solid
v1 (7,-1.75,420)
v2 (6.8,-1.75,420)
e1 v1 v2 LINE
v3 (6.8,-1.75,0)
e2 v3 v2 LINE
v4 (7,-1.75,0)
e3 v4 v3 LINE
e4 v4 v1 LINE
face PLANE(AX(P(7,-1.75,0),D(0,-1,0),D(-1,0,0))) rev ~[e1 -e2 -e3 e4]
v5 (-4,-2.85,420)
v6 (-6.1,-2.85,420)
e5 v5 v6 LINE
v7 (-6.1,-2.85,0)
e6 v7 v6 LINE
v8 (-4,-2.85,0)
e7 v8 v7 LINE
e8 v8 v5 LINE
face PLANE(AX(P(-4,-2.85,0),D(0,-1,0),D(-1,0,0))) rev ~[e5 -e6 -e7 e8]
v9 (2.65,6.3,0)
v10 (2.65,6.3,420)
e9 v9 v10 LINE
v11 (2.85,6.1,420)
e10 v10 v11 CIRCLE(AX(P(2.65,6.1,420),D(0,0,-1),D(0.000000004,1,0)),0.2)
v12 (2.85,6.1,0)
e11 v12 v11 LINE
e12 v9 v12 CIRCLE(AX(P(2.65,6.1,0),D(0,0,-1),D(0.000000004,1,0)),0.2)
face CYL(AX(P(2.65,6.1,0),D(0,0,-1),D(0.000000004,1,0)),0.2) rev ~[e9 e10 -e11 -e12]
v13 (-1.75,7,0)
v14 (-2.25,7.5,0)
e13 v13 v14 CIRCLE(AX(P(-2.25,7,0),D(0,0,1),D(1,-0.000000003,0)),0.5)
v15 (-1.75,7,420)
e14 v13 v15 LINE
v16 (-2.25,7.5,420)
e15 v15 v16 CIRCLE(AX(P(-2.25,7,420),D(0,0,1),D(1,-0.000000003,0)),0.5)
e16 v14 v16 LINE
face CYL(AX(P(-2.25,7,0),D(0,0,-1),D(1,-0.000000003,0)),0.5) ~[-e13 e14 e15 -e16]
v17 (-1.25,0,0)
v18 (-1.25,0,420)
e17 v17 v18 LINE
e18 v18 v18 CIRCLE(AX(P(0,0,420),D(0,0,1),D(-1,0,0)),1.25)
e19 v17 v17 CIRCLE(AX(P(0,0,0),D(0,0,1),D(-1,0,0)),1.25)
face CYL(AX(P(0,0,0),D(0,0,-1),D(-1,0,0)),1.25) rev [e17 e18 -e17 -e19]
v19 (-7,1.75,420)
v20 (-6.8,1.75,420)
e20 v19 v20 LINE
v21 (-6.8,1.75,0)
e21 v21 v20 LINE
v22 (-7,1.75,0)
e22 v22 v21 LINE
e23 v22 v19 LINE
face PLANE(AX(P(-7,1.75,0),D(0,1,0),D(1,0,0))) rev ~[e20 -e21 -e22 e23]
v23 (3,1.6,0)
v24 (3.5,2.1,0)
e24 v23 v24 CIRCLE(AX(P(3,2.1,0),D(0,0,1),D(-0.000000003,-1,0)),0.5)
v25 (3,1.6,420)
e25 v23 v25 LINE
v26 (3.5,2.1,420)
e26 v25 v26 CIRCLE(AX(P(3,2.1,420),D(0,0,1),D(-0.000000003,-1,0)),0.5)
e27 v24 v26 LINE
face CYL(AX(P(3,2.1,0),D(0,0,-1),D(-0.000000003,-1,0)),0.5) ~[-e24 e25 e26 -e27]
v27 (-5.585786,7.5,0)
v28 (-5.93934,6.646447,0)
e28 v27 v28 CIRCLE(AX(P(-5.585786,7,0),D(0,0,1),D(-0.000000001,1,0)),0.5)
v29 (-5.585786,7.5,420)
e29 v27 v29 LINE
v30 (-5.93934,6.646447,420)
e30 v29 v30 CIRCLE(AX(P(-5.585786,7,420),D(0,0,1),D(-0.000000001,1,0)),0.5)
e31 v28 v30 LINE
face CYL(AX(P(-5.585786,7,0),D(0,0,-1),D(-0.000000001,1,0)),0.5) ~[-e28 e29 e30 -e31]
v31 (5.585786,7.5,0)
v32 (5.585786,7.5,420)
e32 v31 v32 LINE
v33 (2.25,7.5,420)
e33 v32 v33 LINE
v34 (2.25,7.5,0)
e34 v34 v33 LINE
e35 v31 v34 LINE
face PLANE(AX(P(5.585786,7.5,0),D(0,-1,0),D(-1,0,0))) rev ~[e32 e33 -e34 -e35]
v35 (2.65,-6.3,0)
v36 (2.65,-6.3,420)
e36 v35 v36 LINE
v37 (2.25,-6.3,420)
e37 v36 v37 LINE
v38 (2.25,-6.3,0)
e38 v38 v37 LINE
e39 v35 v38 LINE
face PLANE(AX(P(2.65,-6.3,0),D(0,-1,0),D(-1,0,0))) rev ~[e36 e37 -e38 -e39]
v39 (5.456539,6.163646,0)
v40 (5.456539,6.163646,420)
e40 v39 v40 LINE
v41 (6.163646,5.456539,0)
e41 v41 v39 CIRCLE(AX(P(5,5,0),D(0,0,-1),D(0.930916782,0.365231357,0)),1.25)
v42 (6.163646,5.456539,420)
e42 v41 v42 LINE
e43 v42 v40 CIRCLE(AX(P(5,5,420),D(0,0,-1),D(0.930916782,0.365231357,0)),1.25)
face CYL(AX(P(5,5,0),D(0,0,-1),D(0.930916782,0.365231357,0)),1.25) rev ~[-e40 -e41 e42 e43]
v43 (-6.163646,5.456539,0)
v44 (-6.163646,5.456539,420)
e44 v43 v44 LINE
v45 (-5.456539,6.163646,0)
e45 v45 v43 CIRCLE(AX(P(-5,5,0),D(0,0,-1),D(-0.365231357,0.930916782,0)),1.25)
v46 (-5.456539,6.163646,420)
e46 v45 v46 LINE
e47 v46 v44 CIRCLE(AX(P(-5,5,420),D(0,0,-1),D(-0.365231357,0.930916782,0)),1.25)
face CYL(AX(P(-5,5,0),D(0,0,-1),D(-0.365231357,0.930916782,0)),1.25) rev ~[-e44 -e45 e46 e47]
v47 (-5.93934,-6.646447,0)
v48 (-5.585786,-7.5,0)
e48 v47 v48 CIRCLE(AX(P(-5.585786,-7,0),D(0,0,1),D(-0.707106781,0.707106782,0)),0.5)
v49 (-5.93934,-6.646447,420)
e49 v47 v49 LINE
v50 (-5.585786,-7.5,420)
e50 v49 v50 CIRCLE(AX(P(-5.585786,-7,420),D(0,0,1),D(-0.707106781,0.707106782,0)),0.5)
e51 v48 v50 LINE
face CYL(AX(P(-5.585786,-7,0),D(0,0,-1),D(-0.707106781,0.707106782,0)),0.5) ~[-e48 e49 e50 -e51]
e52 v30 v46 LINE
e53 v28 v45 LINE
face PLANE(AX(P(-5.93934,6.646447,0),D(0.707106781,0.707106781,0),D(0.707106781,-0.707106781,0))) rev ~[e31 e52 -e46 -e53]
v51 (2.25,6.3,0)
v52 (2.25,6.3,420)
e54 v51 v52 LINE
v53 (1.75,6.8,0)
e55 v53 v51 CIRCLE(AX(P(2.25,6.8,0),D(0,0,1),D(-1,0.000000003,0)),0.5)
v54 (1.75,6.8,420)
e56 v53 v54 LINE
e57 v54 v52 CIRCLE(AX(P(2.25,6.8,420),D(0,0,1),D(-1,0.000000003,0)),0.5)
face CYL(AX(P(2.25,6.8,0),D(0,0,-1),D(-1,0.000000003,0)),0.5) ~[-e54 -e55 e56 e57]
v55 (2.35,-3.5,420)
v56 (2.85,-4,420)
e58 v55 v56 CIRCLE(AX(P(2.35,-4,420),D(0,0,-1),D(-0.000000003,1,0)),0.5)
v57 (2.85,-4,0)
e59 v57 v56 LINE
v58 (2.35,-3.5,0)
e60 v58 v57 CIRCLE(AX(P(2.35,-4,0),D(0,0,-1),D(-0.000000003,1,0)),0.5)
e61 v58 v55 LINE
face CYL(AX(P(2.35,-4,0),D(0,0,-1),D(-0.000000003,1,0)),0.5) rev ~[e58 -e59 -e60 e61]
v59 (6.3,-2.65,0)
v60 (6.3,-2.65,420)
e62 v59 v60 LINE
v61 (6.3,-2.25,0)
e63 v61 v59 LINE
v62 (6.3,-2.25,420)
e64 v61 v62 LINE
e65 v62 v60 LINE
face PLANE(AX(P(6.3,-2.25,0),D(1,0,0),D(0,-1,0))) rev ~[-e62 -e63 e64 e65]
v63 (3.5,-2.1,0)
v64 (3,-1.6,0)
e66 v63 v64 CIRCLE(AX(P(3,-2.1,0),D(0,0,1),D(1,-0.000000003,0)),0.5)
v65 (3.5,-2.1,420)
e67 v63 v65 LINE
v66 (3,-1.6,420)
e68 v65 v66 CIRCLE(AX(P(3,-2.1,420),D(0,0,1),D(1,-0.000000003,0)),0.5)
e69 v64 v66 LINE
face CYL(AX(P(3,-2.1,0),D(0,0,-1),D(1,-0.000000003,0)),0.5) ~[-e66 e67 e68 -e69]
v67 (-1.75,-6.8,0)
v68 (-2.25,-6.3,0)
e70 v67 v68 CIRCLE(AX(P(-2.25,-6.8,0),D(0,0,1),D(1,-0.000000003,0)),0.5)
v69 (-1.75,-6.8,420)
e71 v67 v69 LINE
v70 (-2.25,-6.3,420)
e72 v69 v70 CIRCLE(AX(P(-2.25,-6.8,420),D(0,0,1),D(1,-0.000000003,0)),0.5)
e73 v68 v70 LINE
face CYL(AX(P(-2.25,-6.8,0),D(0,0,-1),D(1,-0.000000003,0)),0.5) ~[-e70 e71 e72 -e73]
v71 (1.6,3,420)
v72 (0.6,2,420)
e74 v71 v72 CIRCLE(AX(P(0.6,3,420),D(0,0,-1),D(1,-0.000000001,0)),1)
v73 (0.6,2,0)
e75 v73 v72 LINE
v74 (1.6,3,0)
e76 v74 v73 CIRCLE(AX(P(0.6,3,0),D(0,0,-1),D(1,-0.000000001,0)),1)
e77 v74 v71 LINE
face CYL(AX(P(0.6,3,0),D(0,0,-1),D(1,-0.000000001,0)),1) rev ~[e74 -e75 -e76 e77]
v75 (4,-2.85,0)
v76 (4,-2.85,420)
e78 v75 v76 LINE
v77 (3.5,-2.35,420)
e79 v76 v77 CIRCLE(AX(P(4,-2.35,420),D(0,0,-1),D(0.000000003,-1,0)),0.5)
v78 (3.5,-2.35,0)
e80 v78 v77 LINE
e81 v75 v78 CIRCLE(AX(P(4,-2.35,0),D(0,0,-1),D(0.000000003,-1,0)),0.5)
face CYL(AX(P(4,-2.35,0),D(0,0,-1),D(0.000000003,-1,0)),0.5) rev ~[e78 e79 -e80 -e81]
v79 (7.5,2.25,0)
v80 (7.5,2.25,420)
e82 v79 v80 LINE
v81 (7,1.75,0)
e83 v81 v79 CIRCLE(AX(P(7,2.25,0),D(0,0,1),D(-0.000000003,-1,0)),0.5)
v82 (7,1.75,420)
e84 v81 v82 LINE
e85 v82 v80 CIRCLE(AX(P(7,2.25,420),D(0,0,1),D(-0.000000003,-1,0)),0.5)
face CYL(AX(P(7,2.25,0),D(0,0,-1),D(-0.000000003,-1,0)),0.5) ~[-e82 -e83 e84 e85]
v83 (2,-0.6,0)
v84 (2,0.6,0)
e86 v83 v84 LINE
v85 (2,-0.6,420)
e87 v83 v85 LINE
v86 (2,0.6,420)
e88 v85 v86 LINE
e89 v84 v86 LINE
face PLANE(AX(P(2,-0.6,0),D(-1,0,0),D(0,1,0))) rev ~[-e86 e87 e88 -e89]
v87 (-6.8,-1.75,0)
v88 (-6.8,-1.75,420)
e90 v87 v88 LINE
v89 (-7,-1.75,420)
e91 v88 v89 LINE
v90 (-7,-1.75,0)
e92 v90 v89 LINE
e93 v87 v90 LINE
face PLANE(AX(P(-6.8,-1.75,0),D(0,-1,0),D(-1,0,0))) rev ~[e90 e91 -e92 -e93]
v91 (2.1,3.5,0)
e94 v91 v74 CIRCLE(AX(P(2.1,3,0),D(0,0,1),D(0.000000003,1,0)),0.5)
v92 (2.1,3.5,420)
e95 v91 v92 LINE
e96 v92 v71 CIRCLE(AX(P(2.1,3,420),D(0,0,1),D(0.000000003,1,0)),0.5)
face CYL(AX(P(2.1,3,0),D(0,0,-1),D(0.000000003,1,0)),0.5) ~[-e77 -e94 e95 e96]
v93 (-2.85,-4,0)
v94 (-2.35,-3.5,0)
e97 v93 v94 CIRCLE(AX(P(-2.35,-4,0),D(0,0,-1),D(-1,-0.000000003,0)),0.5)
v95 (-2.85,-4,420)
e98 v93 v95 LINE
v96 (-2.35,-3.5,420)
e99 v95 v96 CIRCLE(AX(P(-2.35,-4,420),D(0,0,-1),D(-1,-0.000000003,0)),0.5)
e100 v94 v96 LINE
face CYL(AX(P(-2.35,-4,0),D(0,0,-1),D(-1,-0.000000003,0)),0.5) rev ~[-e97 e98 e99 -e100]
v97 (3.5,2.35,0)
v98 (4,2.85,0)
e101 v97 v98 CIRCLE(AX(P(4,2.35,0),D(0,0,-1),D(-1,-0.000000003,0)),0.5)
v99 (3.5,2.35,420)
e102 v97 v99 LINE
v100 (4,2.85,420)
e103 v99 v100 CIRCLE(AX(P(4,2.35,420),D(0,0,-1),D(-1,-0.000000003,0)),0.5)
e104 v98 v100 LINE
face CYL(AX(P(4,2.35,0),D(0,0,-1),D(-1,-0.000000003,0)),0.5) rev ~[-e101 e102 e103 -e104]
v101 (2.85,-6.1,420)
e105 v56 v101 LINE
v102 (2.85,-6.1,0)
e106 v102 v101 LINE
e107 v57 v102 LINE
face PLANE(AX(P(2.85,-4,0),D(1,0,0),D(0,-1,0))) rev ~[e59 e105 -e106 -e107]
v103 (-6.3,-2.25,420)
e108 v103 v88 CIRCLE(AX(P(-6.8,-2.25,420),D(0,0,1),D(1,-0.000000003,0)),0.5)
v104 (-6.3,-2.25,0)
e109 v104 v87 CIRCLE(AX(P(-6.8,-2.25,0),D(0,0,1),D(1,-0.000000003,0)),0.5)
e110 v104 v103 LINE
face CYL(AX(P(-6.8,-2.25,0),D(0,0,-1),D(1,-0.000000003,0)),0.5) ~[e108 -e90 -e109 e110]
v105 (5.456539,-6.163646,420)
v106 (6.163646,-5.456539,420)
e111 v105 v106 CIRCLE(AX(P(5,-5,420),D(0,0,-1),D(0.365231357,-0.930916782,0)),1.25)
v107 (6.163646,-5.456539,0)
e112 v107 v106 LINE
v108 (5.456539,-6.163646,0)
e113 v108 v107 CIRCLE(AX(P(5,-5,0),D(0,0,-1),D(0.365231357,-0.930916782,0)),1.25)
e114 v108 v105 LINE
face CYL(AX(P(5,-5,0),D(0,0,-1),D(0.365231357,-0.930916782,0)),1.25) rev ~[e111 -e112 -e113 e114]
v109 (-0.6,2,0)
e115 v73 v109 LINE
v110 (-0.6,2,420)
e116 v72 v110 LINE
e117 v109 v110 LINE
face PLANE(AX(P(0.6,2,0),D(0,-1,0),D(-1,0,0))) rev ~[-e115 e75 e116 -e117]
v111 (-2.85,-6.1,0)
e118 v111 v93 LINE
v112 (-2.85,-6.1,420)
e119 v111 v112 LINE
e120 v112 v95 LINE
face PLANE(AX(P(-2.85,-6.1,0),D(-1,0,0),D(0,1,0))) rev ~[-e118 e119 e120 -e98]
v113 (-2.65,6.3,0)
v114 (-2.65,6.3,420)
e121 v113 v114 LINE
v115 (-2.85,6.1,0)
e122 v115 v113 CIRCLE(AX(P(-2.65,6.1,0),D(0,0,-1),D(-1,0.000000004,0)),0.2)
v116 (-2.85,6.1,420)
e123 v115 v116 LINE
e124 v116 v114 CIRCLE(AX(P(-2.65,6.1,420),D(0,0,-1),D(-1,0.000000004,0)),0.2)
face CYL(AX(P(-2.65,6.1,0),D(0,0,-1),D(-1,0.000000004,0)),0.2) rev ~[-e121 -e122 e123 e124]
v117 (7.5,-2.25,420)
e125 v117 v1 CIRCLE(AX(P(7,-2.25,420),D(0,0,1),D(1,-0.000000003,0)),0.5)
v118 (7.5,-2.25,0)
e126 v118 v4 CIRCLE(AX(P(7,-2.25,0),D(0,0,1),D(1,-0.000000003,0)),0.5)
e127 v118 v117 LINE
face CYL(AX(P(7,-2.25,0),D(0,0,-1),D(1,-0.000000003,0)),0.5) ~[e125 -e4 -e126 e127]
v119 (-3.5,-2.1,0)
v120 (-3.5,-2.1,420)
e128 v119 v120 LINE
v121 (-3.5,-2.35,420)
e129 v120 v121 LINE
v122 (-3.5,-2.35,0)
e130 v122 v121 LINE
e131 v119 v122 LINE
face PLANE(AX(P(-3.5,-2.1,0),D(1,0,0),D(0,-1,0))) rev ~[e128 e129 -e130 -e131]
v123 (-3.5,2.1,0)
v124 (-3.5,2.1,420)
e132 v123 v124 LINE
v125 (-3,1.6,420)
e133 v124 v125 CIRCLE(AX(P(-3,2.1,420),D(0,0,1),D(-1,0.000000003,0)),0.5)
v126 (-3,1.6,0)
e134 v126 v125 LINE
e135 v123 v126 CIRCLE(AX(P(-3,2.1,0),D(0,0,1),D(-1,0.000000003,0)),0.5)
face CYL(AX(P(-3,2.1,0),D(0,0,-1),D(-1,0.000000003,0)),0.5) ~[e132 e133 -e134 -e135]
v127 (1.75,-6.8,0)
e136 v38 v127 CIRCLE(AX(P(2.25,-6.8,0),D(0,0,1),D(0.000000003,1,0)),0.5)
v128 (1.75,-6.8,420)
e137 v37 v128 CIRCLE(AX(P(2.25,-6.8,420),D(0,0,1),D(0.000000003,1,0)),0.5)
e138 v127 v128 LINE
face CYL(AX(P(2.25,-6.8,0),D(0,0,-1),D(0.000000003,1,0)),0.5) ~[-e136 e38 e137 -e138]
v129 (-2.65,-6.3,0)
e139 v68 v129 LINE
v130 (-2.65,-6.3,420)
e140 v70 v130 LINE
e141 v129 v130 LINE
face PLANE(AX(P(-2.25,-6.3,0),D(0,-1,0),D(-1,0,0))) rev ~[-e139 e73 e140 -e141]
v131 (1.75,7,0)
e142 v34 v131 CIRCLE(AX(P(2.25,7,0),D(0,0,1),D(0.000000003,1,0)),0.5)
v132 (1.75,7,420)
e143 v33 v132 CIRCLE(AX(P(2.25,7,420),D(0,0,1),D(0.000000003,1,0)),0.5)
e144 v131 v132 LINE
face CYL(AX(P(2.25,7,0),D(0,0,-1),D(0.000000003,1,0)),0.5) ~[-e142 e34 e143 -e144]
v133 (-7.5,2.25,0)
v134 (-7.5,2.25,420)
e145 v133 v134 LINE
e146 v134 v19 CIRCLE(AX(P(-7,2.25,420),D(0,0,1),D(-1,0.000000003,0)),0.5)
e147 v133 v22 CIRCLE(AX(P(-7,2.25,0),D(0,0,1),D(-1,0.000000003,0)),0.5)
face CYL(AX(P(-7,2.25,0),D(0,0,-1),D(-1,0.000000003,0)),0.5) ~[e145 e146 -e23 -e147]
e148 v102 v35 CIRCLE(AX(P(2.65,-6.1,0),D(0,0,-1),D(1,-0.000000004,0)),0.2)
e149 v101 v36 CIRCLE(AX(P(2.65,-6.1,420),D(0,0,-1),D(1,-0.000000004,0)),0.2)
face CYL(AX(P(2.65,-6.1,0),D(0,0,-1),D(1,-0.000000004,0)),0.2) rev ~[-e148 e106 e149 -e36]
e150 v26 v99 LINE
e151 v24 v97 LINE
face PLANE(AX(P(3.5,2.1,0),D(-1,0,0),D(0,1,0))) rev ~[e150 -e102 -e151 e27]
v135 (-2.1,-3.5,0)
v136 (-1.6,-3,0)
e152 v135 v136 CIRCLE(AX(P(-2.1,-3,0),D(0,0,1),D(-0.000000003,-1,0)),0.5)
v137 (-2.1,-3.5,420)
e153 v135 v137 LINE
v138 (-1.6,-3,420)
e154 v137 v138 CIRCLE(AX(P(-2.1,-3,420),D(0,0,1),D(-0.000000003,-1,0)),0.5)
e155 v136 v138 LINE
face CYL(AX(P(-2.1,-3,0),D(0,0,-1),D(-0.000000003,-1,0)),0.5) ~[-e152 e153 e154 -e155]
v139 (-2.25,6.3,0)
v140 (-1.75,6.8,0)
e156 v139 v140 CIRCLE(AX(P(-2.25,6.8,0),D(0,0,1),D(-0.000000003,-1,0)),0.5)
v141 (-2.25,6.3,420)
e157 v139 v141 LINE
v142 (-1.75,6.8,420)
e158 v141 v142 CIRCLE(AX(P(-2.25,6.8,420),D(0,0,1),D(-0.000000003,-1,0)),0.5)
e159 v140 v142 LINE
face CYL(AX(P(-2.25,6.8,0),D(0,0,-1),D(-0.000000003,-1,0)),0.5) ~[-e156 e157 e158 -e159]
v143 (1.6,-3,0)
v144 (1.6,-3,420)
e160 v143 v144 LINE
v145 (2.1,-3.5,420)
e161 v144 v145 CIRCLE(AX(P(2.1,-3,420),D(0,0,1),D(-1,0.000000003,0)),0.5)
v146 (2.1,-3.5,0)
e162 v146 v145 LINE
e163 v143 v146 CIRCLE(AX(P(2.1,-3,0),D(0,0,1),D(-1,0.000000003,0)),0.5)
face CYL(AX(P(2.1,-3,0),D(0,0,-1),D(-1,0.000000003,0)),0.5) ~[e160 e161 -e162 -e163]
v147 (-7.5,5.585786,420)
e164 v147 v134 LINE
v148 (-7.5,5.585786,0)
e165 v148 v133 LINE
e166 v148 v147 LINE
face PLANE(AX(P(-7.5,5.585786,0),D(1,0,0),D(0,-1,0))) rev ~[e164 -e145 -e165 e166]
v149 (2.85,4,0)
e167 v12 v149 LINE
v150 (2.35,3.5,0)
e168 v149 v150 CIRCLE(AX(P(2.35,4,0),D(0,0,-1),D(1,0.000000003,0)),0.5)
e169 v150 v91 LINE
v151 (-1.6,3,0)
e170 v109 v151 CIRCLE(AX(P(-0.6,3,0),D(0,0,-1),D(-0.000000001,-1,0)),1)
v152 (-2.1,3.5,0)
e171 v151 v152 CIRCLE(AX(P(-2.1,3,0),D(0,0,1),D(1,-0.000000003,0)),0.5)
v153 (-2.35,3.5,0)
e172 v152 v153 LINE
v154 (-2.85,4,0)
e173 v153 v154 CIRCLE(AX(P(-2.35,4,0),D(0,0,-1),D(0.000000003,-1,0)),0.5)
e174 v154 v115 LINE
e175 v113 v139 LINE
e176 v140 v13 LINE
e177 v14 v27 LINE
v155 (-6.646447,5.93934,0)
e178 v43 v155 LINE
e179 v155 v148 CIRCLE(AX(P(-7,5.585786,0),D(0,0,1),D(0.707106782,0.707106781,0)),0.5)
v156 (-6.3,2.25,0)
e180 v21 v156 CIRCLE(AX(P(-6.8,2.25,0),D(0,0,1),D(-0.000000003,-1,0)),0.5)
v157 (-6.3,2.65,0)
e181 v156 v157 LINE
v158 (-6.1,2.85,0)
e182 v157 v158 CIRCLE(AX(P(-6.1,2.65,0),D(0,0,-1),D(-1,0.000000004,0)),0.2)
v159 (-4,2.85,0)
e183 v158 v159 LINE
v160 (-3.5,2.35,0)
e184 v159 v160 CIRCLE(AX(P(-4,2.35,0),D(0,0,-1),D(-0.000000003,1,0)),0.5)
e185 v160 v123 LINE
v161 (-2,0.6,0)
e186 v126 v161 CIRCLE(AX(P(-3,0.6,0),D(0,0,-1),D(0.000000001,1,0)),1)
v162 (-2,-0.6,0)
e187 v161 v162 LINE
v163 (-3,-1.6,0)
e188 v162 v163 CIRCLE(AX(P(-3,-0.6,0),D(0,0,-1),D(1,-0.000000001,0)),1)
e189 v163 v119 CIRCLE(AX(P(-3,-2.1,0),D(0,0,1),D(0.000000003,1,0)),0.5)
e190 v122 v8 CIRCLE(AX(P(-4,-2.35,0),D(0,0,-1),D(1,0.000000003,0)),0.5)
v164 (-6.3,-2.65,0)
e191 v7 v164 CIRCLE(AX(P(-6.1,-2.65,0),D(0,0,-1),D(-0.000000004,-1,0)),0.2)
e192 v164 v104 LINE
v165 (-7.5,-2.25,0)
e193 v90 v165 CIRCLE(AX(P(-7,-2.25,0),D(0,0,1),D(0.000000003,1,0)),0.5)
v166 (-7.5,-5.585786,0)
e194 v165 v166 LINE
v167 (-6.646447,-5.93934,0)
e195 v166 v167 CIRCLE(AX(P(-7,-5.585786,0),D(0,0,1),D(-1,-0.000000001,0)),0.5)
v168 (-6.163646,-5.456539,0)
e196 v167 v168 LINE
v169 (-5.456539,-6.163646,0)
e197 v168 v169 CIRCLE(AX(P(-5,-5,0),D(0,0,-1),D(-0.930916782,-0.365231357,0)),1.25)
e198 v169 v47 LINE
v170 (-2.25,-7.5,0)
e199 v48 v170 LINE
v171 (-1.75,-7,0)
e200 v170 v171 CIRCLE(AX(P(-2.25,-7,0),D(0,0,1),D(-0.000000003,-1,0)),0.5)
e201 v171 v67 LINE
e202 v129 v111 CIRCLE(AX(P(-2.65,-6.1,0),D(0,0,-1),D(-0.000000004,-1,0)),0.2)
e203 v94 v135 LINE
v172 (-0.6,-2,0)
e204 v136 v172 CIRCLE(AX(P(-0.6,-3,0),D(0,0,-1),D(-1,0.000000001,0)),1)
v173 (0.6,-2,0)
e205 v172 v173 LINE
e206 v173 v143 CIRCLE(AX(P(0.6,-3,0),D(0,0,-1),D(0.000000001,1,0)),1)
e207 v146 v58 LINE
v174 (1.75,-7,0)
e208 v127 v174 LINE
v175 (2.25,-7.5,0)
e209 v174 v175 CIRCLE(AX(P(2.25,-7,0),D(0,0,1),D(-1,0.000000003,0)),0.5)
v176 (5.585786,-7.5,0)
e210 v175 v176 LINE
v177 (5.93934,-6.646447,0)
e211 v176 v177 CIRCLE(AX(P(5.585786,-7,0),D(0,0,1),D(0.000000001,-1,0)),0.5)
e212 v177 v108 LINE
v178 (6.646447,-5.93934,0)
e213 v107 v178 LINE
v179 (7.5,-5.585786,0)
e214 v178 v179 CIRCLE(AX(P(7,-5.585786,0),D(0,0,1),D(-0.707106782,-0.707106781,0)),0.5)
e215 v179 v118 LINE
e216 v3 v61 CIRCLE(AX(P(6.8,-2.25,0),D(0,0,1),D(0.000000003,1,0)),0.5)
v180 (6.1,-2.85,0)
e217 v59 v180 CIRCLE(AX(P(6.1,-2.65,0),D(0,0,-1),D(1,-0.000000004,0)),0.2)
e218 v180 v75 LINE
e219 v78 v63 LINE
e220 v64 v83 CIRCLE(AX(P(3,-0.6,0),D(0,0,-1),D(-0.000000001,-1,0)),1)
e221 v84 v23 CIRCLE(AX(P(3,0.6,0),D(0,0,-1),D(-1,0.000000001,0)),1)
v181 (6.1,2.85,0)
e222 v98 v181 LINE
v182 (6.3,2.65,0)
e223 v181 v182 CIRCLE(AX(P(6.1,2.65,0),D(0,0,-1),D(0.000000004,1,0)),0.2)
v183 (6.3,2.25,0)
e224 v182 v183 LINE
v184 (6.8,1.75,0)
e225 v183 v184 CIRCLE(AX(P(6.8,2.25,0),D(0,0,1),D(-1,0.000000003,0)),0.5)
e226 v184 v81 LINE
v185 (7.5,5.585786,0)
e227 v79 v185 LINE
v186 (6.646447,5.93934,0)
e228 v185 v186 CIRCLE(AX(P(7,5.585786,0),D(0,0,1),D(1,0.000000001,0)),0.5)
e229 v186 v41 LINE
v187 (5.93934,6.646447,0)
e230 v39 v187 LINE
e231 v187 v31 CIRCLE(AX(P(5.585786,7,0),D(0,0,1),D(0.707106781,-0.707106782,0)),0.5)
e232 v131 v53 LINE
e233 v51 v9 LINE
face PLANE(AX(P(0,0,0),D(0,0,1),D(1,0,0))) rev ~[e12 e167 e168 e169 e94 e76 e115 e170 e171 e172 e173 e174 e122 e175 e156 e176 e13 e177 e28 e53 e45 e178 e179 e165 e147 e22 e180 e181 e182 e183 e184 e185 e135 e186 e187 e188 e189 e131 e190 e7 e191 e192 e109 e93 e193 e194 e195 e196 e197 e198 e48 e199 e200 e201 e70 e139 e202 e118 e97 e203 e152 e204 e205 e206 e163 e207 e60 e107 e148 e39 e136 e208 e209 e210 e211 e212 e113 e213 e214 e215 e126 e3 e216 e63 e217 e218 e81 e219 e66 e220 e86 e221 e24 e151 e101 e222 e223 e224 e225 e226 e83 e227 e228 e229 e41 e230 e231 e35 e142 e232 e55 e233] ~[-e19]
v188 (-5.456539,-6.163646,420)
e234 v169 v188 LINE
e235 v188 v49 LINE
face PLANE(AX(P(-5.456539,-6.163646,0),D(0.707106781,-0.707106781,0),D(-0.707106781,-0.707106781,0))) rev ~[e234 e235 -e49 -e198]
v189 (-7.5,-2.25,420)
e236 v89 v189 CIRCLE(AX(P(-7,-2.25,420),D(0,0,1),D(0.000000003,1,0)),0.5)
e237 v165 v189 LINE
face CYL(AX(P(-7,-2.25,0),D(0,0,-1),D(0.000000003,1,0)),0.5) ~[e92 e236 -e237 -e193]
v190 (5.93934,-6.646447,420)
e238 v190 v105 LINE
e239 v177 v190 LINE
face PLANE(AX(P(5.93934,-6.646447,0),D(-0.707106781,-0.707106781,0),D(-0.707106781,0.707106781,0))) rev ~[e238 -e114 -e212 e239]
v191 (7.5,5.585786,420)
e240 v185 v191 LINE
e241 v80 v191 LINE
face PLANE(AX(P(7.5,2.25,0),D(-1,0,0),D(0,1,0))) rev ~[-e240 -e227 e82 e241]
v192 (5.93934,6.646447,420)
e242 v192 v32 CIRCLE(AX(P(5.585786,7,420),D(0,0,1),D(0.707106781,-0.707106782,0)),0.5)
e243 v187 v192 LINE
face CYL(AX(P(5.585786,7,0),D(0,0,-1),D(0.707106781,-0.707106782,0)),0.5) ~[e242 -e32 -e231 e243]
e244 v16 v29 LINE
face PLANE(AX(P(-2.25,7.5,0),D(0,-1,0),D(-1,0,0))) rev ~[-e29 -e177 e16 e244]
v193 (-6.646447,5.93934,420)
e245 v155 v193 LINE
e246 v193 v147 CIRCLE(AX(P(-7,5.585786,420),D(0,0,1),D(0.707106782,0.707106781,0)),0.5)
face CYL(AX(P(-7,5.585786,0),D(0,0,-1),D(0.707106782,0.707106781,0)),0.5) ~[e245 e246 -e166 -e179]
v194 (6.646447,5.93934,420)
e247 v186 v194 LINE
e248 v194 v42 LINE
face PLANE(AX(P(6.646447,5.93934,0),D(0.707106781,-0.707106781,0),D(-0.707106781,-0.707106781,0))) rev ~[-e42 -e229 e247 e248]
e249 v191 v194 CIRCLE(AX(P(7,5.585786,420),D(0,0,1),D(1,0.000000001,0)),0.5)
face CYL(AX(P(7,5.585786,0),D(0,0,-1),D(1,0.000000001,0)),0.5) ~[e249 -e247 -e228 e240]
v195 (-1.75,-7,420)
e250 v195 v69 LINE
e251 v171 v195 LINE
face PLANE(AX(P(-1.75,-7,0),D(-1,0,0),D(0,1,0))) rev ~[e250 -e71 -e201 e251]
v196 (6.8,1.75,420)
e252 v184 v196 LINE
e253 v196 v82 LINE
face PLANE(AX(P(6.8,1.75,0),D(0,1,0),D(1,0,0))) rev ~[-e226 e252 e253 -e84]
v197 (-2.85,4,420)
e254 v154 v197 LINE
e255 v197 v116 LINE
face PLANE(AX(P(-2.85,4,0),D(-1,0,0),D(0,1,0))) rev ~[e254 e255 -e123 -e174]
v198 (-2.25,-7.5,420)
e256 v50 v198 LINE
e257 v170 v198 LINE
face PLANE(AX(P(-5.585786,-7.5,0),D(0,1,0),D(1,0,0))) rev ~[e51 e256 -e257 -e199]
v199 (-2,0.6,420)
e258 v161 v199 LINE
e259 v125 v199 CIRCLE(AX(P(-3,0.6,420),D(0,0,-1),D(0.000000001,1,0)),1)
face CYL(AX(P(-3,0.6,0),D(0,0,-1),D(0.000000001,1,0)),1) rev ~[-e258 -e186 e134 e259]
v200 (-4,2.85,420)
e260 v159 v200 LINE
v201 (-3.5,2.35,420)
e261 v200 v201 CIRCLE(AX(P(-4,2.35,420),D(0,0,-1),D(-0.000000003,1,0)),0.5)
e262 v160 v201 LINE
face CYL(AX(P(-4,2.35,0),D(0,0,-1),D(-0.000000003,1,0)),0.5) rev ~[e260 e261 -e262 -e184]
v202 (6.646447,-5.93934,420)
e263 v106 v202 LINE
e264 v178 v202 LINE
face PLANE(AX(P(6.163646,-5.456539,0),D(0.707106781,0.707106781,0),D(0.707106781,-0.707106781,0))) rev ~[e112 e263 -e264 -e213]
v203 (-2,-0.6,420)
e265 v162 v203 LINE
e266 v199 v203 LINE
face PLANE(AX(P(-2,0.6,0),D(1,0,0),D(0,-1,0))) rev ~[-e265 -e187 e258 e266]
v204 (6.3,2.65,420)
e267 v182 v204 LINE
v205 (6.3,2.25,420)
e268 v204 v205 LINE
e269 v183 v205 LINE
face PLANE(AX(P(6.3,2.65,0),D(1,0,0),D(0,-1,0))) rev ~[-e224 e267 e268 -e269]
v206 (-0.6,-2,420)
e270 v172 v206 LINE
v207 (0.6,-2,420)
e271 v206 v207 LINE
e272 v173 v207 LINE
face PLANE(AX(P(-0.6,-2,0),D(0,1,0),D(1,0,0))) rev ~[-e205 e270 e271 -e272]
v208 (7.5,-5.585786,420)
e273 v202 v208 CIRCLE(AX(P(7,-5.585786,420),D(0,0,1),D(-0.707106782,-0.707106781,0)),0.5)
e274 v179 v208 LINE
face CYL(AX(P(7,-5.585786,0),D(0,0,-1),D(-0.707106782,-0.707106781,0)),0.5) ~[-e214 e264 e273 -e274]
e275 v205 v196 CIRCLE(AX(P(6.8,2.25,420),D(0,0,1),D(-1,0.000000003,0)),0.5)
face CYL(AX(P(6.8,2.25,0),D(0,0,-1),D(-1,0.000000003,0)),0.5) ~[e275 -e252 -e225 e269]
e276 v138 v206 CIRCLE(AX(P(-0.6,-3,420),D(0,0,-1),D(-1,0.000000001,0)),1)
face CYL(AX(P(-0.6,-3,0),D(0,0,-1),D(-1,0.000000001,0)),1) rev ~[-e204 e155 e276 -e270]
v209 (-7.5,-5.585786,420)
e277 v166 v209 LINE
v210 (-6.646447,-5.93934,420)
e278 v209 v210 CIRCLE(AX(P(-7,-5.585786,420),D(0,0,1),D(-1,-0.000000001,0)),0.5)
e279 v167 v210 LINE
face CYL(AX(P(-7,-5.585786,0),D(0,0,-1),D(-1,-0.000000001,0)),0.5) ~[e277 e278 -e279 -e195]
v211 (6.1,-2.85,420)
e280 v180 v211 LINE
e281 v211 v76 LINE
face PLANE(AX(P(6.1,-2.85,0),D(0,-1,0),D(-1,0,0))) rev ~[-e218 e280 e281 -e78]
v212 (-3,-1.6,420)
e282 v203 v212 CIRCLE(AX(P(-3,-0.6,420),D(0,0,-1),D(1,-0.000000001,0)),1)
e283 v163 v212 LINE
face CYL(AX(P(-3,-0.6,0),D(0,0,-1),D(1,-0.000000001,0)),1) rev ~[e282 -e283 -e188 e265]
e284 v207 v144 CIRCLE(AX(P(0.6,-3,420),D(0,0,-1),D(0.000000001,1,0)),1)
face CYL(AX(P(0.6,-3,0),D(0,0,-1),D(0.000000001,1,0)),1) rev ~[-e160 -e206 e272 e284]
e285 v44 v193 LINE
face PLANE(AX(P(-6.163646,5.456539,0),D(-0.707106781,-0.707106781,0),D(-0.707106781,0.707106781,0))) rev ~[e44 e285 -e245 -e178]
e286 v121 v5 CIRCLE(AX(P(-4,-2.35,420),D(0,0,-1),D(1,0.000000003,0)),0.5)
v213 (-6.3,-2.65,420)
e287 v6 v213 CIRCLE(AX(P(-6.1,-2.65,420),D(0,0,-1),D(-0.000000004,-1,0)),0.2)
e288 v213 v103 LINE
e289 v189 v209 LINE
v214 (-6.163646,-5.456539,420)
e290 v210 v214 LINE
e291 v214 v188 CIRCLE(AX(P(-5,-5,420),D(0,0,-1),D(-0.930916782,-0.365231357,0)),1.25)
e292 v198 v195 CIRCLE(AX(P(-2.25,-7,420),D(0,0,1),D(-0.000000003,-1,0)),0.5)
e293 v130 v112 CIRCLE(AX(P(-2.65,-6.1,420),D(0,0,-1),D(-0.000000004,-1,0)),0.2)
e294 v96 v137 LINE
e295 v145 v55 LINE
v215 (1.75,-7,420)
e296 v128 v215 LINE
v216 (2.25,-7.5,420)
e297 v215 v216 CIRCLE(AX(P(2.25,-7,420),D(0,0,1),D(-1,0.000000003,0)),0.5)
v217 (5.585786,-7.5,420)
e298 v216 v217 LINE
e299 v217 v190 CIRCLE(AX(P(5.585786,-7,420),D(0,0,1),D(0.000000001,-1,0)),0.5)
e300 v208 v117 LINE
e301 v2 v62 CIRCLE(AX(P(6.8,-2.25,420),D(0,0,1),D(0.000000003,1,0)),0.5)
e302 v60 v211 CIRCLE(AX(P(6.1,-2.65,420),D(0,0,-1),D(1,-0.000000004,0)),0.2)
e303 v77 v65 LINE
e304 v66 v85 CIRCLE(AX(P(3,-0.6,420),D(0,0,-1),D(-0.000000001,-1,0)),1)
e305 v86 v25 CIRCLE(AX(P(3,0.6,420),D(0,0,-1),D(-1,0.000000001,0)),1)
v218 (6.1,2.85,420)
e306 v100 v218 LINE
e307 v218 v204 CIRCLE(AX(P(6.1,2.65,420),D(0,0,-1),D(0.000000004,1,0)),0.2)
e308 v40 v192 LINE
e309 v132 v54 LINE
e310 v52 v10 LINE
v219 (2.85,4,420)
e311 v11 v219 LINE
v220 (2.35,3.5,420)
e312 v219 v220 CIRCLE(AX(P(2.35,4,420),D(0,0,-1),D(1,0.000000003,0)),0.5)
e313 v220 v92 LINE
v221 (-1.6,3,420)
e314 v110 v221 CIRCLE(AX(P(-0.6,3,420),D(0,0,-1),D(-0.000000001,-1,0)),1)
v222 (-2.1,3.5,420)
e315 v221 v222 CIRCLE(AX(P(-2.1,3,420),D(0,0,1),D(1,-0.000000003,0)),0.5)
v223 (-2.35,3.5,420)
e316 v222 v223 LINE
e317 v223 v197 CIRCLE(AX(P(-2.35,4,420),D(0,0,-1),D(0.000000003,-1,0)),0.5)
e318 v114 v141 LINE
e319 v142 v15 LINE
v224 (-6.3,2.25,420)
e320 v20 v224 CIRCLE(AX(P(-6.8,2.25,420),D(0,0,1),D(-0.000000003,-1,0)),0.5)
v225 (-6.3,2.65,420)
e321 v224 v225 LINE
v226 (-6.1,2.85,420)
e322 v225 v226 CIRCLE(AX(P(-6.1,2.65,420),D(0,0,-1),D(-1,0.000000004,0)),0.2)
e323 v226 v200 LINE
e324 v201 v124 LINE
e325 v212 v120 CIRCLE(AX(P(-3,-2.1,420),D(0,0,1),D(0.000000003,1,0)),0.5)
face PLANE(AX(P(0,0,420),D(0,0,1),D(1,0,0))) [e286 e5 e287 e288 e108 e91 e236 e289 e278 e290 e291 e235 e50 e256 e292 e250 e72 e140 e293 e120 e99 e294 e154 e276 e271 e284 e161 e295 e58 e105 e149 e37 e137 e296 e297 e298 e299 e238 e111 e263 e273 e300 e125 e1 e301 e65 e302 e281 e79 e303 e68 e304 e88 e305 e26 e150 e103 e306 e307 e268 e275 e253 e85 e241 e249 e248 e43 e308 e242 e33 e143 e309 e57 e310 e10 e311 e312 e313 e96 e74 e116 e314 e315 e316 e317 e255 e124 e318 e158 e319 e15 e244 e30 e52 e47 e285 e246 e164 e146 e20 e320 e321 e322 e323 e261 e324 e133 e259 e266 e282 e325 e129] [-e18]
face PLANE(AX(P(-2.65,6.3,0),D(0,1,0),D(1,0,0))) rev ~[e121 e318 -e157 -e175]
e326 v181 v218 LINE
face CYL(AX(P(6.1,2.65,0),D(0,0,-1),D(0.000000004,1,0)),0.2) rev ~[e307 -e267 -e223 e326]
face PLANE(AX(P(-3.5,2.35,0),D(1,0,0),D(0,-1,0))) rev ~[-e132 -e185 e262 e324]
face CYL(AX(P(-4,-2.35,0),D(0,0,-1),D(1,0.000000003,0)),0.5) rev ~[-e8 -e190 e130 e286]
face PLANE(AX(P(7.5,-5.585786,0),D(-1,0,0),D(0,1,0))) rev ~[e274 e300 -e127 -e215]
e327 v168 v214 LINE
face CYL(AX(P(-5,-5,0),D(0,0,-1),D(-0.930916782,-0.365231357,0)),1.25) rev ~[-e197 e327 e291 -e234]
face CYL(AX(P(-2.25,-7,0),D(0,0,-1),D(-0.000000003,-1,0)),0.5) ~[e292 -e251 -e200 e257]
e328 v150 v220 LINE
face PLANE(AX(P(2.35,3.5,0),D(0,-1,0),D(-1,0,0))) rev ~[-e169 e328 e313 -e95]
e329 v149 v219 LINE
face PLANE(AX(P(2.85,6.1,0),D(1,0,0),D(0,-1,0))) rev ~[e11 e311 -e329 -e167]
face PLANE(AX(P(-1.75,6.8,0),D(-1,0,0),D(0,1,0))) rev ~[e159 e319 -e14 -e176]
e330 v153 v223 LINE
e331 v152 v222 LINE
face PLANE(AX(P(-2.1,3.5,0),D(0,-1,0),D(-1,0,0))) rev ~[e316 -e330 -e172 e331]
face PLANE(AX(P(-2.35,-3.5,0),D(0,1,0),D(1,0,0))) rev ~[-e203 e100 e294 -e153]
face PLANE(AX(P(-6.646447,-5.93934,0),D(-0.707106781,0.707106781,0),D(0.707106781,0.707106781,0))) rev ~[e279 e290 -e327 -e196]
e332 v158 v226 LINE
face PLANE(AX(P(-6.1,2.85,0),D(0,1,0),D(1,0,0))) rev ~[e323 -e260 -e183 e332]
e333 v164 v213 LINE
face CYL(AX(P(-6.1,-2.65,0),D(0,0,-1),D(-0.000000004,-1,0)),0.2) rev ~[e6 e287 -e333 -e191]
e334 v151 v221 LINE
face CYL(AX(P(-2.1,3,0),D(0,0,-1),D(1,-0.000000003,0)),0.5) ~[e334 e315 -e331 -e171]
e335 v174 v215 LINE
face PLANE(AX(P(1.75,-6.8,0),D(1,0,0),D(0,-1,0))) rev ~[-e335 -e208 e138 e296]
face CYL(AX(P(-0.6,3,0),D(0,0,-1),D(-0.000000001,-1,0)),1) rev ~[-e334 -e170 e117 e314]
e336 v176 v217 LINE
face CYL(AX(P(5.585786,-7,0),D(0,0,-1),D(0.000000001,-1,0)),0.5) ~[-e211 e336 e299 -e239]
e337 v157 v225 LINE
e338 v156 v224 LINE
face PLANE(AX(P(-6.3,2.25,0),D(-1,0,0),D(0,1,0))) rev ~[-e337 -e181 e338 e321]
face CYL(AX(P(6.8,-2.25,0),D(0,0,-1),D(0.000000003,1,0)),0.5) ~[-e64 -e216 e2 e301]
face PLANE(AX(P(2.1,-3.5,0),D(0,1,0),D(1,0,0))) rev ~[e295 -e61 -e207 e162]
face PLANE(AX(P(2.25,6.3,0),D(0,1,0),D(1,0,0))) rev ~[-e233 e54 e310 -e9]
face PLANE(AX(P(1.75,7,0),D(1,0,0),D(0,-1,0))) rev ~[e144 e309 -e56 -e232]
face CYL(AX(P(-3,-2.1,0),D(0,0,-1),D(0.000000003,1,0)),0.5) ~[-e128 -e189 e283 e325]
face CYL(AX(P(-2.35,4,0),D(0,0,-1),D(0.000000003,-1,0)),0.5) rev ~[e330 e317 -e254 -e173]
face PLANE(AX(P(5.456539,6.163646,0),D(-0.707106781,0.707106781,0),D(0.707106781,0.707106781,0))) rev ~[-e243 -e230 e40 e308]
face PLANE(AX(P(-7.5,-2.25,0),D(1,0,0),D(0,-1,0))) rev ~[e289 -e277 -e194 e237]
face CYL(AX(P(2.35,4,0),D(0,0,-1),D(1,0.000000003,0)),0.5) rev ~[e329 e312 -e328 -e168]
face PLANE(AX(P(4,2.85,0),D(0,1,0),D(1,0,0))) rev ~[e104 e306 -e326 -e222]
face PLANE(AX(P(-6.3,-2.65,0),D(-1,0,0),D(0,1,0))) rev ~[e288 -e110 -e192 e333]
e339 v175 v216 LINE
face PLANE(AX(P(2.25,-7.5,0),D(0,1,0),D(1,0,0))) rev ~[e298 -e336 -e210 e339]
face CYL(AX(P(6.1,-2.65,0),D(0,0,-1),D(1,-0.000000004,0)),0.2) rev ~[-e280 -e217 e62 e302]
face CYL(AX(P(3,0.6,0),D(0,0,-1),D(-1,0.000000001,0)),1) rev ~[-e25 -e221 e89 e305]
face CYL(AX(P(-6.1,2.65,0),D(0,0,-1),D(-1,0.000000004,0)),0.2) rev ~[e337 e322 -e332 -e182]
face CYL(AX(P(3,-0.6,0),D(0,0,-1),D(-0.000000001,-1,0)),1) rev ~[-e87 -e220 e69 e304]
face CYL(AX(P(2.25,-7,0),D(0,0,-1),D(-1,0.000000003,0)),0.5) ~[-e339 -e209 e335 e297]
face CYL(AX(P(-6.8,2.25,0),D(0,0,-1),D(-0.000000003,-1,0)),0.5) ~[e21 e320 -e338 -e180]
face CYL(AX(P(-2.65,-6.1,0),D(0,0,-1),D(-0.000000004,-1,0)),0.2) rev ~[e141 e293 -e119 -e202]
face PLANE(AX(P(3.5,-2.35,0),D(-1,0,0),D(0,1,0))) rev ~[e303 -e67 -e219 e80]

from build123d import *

# Parameters (mm, degrees)
SKETCH1_R           = 1.25
BOSS_EXTRUDE1_DEPTH = 420


with BuildPart() as part:
    # Sketch1 → Boss-Extrude1 (new body)
    with BuildSketch(Plane.XY):
        with BuildLine():
            Line((6.646446609, 5.939339828), (6.163645978, 5.456539197))
            ThreePointArc((6.163645978, 5.456539197), (4.116116524, 4.116116524), (5.456539197, 6.163645978))
            Line((5.456539197, 6.163645978), (5.939339828, 6.646446609))
            ThreePointArc((5.939339828, 6.646446609), (6.047726204, 7.191341716), (5.585786438, 7.5))
            Line((5.585786438, 7.5), (2.25, 7.5))
            ThreePointArc((2.25, 7.5), (1.896446609, 7.353553391), (1.75, 7))
            Line((1.75, 7), (1.75, 6.8))
            ThreePointArc((1.75, 6.8), (1.896446609, 6.446446609), (2.25, 6.3))
            Line((2.25, 6.3), (2.65, 6.3))
            ThreePointArc((2.65, 6.3), (2.791421356, 6.241421356), (2.85, 6.1))
            Line((2.85, 6.1), (2.85, 4))
            ThreePointArc((2.85, 4), (2.703553391, 3.646446609), (2.35, 3.5))
            Line((2.35, 3.5), (2.1, 3.5))
            ThreePointArc((2.1, 3.5), (1.746446609, 3.353553391), (1.6, 3))
            ThreePointArc((1.6, 3), (1.307106781, 2.292893219), (0.6, 2))
            Line((0.6, 2), (-0.6, 2))
            ThreePointArc((-0.6, 2), (-1.307106781, 2.292893219), (-1.6, 3))
            ThreePointArc((-1.6, 3), (-1.746446609, 3.353553391), (-2.1, 3.5))
            Line((-2.1, 3.5), (-2.35, 3.5))
            ThreePointArc((-2.35, 3.5), (-2.703553391, 3.646446609), (-2.85, 4))
            Line((-2.85, 4), (-2.85, 6.1))
            ThreePointArc((-2.85, 6.1), (-2.791421356, 6.241421356), (-2.65, 6.3))
            Line((-2.65, 6.3), (-2.25, 6.3))
            ThreePointArc((-2.25, 6.3), (-1.896446609, 6.446446609), (-1.75, 6.8))
            Line((-1.75, 6.8), (-1.75, 7))
            ThreePointArc((-1.75, 7), (-1.896446609, 7.353553391), (-2.25, 7.5))
            Line((-2.25, 7.5), (-5.585786438, 7.5))
            ThreePointArc((-5.585786438, 7.5), (-6.047726204, 7.191341716), (-5.939339828, 6.646446609))
            Line((-5.939339828, 6.646446609), (-5.456539197, 6.163645978))
            ThreePointArc((-5.456539197, 6.163645978), (-4.116116524, 4.116116524), (-6.163645978, 5.456539197))
            Line((-6.163645978, 5.456539197), (-6.646446609, 5.939339828))
            ThreePointArc((-6.646446609, 5.939339828), (-7.191341716, 6.047726204), (-7.5, 5.585786438))
            Line((-7.5, 5.585786438), (-7.5, 2.25))
            ThreePointArc((-7.5, 2.25), (-7.353553391, 1.896446609), (-7, 1.75))
            Line((-7, 1.75), (-6.8, 1.75))
            ThreePointArc((-6.8, 1.75), (-6.446446609, 1.896446609), (-6.3, 2.25))
            Line((-6.3, 2.25), (-6.3, 2.65))
            ThreePointArc((-6.3, 2.65), (-6.241421356, 2.791421356), (-6.1, 2.85))
            Line((-6.1, 2.85), (-4, 2.85))
            ThreePointArc((-4, 2.85), (-3.646446609, 2.703553391), (-3.5, 2.35))
            Line((-3.5, 2.35), (-3.5, 2.1))
            ThreePointArc((-3.5, 2.1), (-3.353553391, 1.746446609), (-3, 1.6))
            ThreePointArc((-3, 1.6), (-2.292893219, 1.307106781), (-2, 0.6))
            Line((-2, 0.6), (-2, -0.6))
            ThreePointArc((-2, -0.6), (-2.292893219, -1.307106781), (-3, -1.6))
            ThreePointArc((-3, -1.6), (-3.353553391, -1.746446609), (-3.5, -2.1))
            Line((-3.5, -2.1), (-3.5, -2.35))
            ThreePointArc((-3.5, -2.35), (-3.646446609, -2.703553391), (-4, -2.85))
            Line((-4, -2.85), (-6.1, -2.85))
            ThreePointArc((-6.1, -2.85), (-6.241421356, -2.791421356), (-6.3, -2.65))
            Line((-6.3, -2.65), (-6.3, -2.25))
            ThreePointArc((-6.3, -2.25), (-6.446446609, -1.896446609), (-6.8, -1.75))
            Line((-6.8, -1.75), (-7, -1.75))
            ThreePointArc((-7, -1.75), (-7.353553391, -1.896446609), (-7.5, -2.25))
            Line((-7.5, -2.25), (-7.5, -5.585786438))
            ThreePointArc((-7.5, -5.585786438), (-7.191341716, -6.047726204), (-6.646446609, -5.939339828))
            Line((-6.646446609, -5.939339828), (-6.163645978, -5.456539197))
            ThreePointArc((-6.163645978, -5.456539197), (-4.116116524, -4.116116524), (-5.456539197, -6.163645978))
            Line((-5.456539197, -6.163645978), (-5.939339828, -6.646446609))
            ThreePointArc((-5.939339828, -6.646446609), (-6.047726204, -7.191341716), (-5.585786438, -7.5))
            Line((-5.585786438, -7.5), (-2.25, -7.5))
            ThreePointArc((-2.25, -7.5), (-1.896446609, -7.353553391), (-1.75, -7))
            Line((-1.75, -7), (-1.75, -6.8))
            ThreePointArc((-1.75, -6.8), (-1.896446609, -6.446446609), (-2.25, -6.3))
            Line((-2.25, -6.3), (-2.65, -6.3))
            ThreePointArc((-2.65, -6.3), (-2.791421356, -6.241421356), (-2.85, -6.1))
            Line((-2.85, -6.1), (-2.85, -4))
            ThreePointArc((-2.85, -4), (-2.703553391, -3.646446609), (-2.35, -3.5))
            Line((-2.35, -3.5), (-2.1, -3.5))
            ThreePointArc((-2.1, -3.5), (-1.746446609, -3.353553391), (-1.6, -3))
            ThreePointArc((-1.6, -3), (-1.307106781, -2.292893219), (-0.6, -2))
            Line((-0.6, -2), (0.6, -2))
            ThreePointArc((0.6, -2), (1.307106781, -2.292893219), (1.6, -3))
            ThreePointArc((1.6, -3), (1.746446609, -3.353553391), (2.1, -3.5))
            Line((2.1, -3.5), (2.35, -3.5))
            ThreePointArc((2.35, -3.5), (2.703553391, -3.646446609), (2.85, -4))
            Line((2.85, -4), (2.85, -6.1))
            ThreePointArc((2.85, -6.1), (2.791421356, -6.241421356), (2.65, -6.3))
            Line((2.65, -6.3), (2.25, -6.3))
            ThreePointArc((2.25, -6.3), (1.896446609, -6.446446609), (1.75, -6.8))
            Line((1.75, -6.8), (1.75, -7))
            ThreePointArc((1.75, -7), (1.896446609, -7.353553391), (2.25, -7.5))
            Line((2.25, -7.5), (5.585786438, -7.5))
            ThreePointArc((5.585786438, -7.5), (6.047726204, -7.191341716), (5.939339828, -6.646446609))
            Line((5.939339828, -6.646446609), (5.456539197, -6.163645978))
            ThreePointArc((5.456539197, -6.163645978), (4.116116524, -4.116116524), (6.163645978, -5.456539197))
            Line((6.163645978, -5.456539197), (6.646446609, -5.939339828))
            ThreePointArc((6.646446609, -5.939339828), (7.191341716, -6.047726204), (7.5, -5.585786438))
            Line((7.5, -5.585786438), (7.5, -2.25))
            ThreePointArc((7.5, -2.25), (7.353553391, -1.896446609), (7, -1.75))
            Line((7, -1.75), (6.8, -1.75))
            ThreePointArc((6.8, -1.75), (6.446446609, -1.896446609), (6.3, -2.25))
            Line((6.3, -2.25), (6.3, -2.65))
            ThreePointArc((6.3, -2.65), (6.241421356, -2.791421356), (6.1, -2.85))
            Line((6.1, -2.85), (4, -2.85))
            ThreePointArc((4, -2.85), (3.646446609, -2.703553391), (3.5, -2.35))
            Line((3.5, -2.35), (3.5, -2.1))
            ThreePointArc((3.5, -2.1), (3.353553391, -1.746446609), (3, -1.6))
            ThreePointArc((3, -1.6), (2.292893219, -1.307106781), (2, -0.6))
            Line((2, -0.6), (2, 0.6))
            ThreePointArc((2, 0.6), (2.292893219, 1.307106781), (3, 1.6))
            ThreePointArc((3, 1.6), (3.353553391, 1.746446609), (3.5, 2.1))
            Line((3.5, 2.1), (3.5, 2.35))
            ThreePointArc((3.5, 2.35), (3.646446609, 2.703553391), (4, 2.85))
            Line((4, 2.85), (6.1, 2.85))
            ThreePointArc((6.1, 2.85), (6.241421356, 2.791421356), (6.3, 2.65))
            Line((6.3, 2.65), (6.3, 2.25))
            ThreePointArc((6.3, 2.25), (6.446446609, 1.896446609), (6.8, 1.75))
            Line((6.8, 1.75), (7, 1.75))
            ThreePointArc((7, 1.75), (7.353553391, 1.896446609), (7.5, 2.25))
            Line((7.5, 2.25), (7.5, 5.585786438))
            ThreePointArc((7.5, 5.585786438), (7.191341716, 6.047726204), (6.646446609, 5.939339828))
        make_face()
        with Locations(Location((0, 0, 0), (0, 0, 180))):
            Circle(SKETCH1_R, mode=Mode.SUBTRACT)
    extrude(amount=BOSS_EXTRUDE1_DEPTH)


solid = part.part
